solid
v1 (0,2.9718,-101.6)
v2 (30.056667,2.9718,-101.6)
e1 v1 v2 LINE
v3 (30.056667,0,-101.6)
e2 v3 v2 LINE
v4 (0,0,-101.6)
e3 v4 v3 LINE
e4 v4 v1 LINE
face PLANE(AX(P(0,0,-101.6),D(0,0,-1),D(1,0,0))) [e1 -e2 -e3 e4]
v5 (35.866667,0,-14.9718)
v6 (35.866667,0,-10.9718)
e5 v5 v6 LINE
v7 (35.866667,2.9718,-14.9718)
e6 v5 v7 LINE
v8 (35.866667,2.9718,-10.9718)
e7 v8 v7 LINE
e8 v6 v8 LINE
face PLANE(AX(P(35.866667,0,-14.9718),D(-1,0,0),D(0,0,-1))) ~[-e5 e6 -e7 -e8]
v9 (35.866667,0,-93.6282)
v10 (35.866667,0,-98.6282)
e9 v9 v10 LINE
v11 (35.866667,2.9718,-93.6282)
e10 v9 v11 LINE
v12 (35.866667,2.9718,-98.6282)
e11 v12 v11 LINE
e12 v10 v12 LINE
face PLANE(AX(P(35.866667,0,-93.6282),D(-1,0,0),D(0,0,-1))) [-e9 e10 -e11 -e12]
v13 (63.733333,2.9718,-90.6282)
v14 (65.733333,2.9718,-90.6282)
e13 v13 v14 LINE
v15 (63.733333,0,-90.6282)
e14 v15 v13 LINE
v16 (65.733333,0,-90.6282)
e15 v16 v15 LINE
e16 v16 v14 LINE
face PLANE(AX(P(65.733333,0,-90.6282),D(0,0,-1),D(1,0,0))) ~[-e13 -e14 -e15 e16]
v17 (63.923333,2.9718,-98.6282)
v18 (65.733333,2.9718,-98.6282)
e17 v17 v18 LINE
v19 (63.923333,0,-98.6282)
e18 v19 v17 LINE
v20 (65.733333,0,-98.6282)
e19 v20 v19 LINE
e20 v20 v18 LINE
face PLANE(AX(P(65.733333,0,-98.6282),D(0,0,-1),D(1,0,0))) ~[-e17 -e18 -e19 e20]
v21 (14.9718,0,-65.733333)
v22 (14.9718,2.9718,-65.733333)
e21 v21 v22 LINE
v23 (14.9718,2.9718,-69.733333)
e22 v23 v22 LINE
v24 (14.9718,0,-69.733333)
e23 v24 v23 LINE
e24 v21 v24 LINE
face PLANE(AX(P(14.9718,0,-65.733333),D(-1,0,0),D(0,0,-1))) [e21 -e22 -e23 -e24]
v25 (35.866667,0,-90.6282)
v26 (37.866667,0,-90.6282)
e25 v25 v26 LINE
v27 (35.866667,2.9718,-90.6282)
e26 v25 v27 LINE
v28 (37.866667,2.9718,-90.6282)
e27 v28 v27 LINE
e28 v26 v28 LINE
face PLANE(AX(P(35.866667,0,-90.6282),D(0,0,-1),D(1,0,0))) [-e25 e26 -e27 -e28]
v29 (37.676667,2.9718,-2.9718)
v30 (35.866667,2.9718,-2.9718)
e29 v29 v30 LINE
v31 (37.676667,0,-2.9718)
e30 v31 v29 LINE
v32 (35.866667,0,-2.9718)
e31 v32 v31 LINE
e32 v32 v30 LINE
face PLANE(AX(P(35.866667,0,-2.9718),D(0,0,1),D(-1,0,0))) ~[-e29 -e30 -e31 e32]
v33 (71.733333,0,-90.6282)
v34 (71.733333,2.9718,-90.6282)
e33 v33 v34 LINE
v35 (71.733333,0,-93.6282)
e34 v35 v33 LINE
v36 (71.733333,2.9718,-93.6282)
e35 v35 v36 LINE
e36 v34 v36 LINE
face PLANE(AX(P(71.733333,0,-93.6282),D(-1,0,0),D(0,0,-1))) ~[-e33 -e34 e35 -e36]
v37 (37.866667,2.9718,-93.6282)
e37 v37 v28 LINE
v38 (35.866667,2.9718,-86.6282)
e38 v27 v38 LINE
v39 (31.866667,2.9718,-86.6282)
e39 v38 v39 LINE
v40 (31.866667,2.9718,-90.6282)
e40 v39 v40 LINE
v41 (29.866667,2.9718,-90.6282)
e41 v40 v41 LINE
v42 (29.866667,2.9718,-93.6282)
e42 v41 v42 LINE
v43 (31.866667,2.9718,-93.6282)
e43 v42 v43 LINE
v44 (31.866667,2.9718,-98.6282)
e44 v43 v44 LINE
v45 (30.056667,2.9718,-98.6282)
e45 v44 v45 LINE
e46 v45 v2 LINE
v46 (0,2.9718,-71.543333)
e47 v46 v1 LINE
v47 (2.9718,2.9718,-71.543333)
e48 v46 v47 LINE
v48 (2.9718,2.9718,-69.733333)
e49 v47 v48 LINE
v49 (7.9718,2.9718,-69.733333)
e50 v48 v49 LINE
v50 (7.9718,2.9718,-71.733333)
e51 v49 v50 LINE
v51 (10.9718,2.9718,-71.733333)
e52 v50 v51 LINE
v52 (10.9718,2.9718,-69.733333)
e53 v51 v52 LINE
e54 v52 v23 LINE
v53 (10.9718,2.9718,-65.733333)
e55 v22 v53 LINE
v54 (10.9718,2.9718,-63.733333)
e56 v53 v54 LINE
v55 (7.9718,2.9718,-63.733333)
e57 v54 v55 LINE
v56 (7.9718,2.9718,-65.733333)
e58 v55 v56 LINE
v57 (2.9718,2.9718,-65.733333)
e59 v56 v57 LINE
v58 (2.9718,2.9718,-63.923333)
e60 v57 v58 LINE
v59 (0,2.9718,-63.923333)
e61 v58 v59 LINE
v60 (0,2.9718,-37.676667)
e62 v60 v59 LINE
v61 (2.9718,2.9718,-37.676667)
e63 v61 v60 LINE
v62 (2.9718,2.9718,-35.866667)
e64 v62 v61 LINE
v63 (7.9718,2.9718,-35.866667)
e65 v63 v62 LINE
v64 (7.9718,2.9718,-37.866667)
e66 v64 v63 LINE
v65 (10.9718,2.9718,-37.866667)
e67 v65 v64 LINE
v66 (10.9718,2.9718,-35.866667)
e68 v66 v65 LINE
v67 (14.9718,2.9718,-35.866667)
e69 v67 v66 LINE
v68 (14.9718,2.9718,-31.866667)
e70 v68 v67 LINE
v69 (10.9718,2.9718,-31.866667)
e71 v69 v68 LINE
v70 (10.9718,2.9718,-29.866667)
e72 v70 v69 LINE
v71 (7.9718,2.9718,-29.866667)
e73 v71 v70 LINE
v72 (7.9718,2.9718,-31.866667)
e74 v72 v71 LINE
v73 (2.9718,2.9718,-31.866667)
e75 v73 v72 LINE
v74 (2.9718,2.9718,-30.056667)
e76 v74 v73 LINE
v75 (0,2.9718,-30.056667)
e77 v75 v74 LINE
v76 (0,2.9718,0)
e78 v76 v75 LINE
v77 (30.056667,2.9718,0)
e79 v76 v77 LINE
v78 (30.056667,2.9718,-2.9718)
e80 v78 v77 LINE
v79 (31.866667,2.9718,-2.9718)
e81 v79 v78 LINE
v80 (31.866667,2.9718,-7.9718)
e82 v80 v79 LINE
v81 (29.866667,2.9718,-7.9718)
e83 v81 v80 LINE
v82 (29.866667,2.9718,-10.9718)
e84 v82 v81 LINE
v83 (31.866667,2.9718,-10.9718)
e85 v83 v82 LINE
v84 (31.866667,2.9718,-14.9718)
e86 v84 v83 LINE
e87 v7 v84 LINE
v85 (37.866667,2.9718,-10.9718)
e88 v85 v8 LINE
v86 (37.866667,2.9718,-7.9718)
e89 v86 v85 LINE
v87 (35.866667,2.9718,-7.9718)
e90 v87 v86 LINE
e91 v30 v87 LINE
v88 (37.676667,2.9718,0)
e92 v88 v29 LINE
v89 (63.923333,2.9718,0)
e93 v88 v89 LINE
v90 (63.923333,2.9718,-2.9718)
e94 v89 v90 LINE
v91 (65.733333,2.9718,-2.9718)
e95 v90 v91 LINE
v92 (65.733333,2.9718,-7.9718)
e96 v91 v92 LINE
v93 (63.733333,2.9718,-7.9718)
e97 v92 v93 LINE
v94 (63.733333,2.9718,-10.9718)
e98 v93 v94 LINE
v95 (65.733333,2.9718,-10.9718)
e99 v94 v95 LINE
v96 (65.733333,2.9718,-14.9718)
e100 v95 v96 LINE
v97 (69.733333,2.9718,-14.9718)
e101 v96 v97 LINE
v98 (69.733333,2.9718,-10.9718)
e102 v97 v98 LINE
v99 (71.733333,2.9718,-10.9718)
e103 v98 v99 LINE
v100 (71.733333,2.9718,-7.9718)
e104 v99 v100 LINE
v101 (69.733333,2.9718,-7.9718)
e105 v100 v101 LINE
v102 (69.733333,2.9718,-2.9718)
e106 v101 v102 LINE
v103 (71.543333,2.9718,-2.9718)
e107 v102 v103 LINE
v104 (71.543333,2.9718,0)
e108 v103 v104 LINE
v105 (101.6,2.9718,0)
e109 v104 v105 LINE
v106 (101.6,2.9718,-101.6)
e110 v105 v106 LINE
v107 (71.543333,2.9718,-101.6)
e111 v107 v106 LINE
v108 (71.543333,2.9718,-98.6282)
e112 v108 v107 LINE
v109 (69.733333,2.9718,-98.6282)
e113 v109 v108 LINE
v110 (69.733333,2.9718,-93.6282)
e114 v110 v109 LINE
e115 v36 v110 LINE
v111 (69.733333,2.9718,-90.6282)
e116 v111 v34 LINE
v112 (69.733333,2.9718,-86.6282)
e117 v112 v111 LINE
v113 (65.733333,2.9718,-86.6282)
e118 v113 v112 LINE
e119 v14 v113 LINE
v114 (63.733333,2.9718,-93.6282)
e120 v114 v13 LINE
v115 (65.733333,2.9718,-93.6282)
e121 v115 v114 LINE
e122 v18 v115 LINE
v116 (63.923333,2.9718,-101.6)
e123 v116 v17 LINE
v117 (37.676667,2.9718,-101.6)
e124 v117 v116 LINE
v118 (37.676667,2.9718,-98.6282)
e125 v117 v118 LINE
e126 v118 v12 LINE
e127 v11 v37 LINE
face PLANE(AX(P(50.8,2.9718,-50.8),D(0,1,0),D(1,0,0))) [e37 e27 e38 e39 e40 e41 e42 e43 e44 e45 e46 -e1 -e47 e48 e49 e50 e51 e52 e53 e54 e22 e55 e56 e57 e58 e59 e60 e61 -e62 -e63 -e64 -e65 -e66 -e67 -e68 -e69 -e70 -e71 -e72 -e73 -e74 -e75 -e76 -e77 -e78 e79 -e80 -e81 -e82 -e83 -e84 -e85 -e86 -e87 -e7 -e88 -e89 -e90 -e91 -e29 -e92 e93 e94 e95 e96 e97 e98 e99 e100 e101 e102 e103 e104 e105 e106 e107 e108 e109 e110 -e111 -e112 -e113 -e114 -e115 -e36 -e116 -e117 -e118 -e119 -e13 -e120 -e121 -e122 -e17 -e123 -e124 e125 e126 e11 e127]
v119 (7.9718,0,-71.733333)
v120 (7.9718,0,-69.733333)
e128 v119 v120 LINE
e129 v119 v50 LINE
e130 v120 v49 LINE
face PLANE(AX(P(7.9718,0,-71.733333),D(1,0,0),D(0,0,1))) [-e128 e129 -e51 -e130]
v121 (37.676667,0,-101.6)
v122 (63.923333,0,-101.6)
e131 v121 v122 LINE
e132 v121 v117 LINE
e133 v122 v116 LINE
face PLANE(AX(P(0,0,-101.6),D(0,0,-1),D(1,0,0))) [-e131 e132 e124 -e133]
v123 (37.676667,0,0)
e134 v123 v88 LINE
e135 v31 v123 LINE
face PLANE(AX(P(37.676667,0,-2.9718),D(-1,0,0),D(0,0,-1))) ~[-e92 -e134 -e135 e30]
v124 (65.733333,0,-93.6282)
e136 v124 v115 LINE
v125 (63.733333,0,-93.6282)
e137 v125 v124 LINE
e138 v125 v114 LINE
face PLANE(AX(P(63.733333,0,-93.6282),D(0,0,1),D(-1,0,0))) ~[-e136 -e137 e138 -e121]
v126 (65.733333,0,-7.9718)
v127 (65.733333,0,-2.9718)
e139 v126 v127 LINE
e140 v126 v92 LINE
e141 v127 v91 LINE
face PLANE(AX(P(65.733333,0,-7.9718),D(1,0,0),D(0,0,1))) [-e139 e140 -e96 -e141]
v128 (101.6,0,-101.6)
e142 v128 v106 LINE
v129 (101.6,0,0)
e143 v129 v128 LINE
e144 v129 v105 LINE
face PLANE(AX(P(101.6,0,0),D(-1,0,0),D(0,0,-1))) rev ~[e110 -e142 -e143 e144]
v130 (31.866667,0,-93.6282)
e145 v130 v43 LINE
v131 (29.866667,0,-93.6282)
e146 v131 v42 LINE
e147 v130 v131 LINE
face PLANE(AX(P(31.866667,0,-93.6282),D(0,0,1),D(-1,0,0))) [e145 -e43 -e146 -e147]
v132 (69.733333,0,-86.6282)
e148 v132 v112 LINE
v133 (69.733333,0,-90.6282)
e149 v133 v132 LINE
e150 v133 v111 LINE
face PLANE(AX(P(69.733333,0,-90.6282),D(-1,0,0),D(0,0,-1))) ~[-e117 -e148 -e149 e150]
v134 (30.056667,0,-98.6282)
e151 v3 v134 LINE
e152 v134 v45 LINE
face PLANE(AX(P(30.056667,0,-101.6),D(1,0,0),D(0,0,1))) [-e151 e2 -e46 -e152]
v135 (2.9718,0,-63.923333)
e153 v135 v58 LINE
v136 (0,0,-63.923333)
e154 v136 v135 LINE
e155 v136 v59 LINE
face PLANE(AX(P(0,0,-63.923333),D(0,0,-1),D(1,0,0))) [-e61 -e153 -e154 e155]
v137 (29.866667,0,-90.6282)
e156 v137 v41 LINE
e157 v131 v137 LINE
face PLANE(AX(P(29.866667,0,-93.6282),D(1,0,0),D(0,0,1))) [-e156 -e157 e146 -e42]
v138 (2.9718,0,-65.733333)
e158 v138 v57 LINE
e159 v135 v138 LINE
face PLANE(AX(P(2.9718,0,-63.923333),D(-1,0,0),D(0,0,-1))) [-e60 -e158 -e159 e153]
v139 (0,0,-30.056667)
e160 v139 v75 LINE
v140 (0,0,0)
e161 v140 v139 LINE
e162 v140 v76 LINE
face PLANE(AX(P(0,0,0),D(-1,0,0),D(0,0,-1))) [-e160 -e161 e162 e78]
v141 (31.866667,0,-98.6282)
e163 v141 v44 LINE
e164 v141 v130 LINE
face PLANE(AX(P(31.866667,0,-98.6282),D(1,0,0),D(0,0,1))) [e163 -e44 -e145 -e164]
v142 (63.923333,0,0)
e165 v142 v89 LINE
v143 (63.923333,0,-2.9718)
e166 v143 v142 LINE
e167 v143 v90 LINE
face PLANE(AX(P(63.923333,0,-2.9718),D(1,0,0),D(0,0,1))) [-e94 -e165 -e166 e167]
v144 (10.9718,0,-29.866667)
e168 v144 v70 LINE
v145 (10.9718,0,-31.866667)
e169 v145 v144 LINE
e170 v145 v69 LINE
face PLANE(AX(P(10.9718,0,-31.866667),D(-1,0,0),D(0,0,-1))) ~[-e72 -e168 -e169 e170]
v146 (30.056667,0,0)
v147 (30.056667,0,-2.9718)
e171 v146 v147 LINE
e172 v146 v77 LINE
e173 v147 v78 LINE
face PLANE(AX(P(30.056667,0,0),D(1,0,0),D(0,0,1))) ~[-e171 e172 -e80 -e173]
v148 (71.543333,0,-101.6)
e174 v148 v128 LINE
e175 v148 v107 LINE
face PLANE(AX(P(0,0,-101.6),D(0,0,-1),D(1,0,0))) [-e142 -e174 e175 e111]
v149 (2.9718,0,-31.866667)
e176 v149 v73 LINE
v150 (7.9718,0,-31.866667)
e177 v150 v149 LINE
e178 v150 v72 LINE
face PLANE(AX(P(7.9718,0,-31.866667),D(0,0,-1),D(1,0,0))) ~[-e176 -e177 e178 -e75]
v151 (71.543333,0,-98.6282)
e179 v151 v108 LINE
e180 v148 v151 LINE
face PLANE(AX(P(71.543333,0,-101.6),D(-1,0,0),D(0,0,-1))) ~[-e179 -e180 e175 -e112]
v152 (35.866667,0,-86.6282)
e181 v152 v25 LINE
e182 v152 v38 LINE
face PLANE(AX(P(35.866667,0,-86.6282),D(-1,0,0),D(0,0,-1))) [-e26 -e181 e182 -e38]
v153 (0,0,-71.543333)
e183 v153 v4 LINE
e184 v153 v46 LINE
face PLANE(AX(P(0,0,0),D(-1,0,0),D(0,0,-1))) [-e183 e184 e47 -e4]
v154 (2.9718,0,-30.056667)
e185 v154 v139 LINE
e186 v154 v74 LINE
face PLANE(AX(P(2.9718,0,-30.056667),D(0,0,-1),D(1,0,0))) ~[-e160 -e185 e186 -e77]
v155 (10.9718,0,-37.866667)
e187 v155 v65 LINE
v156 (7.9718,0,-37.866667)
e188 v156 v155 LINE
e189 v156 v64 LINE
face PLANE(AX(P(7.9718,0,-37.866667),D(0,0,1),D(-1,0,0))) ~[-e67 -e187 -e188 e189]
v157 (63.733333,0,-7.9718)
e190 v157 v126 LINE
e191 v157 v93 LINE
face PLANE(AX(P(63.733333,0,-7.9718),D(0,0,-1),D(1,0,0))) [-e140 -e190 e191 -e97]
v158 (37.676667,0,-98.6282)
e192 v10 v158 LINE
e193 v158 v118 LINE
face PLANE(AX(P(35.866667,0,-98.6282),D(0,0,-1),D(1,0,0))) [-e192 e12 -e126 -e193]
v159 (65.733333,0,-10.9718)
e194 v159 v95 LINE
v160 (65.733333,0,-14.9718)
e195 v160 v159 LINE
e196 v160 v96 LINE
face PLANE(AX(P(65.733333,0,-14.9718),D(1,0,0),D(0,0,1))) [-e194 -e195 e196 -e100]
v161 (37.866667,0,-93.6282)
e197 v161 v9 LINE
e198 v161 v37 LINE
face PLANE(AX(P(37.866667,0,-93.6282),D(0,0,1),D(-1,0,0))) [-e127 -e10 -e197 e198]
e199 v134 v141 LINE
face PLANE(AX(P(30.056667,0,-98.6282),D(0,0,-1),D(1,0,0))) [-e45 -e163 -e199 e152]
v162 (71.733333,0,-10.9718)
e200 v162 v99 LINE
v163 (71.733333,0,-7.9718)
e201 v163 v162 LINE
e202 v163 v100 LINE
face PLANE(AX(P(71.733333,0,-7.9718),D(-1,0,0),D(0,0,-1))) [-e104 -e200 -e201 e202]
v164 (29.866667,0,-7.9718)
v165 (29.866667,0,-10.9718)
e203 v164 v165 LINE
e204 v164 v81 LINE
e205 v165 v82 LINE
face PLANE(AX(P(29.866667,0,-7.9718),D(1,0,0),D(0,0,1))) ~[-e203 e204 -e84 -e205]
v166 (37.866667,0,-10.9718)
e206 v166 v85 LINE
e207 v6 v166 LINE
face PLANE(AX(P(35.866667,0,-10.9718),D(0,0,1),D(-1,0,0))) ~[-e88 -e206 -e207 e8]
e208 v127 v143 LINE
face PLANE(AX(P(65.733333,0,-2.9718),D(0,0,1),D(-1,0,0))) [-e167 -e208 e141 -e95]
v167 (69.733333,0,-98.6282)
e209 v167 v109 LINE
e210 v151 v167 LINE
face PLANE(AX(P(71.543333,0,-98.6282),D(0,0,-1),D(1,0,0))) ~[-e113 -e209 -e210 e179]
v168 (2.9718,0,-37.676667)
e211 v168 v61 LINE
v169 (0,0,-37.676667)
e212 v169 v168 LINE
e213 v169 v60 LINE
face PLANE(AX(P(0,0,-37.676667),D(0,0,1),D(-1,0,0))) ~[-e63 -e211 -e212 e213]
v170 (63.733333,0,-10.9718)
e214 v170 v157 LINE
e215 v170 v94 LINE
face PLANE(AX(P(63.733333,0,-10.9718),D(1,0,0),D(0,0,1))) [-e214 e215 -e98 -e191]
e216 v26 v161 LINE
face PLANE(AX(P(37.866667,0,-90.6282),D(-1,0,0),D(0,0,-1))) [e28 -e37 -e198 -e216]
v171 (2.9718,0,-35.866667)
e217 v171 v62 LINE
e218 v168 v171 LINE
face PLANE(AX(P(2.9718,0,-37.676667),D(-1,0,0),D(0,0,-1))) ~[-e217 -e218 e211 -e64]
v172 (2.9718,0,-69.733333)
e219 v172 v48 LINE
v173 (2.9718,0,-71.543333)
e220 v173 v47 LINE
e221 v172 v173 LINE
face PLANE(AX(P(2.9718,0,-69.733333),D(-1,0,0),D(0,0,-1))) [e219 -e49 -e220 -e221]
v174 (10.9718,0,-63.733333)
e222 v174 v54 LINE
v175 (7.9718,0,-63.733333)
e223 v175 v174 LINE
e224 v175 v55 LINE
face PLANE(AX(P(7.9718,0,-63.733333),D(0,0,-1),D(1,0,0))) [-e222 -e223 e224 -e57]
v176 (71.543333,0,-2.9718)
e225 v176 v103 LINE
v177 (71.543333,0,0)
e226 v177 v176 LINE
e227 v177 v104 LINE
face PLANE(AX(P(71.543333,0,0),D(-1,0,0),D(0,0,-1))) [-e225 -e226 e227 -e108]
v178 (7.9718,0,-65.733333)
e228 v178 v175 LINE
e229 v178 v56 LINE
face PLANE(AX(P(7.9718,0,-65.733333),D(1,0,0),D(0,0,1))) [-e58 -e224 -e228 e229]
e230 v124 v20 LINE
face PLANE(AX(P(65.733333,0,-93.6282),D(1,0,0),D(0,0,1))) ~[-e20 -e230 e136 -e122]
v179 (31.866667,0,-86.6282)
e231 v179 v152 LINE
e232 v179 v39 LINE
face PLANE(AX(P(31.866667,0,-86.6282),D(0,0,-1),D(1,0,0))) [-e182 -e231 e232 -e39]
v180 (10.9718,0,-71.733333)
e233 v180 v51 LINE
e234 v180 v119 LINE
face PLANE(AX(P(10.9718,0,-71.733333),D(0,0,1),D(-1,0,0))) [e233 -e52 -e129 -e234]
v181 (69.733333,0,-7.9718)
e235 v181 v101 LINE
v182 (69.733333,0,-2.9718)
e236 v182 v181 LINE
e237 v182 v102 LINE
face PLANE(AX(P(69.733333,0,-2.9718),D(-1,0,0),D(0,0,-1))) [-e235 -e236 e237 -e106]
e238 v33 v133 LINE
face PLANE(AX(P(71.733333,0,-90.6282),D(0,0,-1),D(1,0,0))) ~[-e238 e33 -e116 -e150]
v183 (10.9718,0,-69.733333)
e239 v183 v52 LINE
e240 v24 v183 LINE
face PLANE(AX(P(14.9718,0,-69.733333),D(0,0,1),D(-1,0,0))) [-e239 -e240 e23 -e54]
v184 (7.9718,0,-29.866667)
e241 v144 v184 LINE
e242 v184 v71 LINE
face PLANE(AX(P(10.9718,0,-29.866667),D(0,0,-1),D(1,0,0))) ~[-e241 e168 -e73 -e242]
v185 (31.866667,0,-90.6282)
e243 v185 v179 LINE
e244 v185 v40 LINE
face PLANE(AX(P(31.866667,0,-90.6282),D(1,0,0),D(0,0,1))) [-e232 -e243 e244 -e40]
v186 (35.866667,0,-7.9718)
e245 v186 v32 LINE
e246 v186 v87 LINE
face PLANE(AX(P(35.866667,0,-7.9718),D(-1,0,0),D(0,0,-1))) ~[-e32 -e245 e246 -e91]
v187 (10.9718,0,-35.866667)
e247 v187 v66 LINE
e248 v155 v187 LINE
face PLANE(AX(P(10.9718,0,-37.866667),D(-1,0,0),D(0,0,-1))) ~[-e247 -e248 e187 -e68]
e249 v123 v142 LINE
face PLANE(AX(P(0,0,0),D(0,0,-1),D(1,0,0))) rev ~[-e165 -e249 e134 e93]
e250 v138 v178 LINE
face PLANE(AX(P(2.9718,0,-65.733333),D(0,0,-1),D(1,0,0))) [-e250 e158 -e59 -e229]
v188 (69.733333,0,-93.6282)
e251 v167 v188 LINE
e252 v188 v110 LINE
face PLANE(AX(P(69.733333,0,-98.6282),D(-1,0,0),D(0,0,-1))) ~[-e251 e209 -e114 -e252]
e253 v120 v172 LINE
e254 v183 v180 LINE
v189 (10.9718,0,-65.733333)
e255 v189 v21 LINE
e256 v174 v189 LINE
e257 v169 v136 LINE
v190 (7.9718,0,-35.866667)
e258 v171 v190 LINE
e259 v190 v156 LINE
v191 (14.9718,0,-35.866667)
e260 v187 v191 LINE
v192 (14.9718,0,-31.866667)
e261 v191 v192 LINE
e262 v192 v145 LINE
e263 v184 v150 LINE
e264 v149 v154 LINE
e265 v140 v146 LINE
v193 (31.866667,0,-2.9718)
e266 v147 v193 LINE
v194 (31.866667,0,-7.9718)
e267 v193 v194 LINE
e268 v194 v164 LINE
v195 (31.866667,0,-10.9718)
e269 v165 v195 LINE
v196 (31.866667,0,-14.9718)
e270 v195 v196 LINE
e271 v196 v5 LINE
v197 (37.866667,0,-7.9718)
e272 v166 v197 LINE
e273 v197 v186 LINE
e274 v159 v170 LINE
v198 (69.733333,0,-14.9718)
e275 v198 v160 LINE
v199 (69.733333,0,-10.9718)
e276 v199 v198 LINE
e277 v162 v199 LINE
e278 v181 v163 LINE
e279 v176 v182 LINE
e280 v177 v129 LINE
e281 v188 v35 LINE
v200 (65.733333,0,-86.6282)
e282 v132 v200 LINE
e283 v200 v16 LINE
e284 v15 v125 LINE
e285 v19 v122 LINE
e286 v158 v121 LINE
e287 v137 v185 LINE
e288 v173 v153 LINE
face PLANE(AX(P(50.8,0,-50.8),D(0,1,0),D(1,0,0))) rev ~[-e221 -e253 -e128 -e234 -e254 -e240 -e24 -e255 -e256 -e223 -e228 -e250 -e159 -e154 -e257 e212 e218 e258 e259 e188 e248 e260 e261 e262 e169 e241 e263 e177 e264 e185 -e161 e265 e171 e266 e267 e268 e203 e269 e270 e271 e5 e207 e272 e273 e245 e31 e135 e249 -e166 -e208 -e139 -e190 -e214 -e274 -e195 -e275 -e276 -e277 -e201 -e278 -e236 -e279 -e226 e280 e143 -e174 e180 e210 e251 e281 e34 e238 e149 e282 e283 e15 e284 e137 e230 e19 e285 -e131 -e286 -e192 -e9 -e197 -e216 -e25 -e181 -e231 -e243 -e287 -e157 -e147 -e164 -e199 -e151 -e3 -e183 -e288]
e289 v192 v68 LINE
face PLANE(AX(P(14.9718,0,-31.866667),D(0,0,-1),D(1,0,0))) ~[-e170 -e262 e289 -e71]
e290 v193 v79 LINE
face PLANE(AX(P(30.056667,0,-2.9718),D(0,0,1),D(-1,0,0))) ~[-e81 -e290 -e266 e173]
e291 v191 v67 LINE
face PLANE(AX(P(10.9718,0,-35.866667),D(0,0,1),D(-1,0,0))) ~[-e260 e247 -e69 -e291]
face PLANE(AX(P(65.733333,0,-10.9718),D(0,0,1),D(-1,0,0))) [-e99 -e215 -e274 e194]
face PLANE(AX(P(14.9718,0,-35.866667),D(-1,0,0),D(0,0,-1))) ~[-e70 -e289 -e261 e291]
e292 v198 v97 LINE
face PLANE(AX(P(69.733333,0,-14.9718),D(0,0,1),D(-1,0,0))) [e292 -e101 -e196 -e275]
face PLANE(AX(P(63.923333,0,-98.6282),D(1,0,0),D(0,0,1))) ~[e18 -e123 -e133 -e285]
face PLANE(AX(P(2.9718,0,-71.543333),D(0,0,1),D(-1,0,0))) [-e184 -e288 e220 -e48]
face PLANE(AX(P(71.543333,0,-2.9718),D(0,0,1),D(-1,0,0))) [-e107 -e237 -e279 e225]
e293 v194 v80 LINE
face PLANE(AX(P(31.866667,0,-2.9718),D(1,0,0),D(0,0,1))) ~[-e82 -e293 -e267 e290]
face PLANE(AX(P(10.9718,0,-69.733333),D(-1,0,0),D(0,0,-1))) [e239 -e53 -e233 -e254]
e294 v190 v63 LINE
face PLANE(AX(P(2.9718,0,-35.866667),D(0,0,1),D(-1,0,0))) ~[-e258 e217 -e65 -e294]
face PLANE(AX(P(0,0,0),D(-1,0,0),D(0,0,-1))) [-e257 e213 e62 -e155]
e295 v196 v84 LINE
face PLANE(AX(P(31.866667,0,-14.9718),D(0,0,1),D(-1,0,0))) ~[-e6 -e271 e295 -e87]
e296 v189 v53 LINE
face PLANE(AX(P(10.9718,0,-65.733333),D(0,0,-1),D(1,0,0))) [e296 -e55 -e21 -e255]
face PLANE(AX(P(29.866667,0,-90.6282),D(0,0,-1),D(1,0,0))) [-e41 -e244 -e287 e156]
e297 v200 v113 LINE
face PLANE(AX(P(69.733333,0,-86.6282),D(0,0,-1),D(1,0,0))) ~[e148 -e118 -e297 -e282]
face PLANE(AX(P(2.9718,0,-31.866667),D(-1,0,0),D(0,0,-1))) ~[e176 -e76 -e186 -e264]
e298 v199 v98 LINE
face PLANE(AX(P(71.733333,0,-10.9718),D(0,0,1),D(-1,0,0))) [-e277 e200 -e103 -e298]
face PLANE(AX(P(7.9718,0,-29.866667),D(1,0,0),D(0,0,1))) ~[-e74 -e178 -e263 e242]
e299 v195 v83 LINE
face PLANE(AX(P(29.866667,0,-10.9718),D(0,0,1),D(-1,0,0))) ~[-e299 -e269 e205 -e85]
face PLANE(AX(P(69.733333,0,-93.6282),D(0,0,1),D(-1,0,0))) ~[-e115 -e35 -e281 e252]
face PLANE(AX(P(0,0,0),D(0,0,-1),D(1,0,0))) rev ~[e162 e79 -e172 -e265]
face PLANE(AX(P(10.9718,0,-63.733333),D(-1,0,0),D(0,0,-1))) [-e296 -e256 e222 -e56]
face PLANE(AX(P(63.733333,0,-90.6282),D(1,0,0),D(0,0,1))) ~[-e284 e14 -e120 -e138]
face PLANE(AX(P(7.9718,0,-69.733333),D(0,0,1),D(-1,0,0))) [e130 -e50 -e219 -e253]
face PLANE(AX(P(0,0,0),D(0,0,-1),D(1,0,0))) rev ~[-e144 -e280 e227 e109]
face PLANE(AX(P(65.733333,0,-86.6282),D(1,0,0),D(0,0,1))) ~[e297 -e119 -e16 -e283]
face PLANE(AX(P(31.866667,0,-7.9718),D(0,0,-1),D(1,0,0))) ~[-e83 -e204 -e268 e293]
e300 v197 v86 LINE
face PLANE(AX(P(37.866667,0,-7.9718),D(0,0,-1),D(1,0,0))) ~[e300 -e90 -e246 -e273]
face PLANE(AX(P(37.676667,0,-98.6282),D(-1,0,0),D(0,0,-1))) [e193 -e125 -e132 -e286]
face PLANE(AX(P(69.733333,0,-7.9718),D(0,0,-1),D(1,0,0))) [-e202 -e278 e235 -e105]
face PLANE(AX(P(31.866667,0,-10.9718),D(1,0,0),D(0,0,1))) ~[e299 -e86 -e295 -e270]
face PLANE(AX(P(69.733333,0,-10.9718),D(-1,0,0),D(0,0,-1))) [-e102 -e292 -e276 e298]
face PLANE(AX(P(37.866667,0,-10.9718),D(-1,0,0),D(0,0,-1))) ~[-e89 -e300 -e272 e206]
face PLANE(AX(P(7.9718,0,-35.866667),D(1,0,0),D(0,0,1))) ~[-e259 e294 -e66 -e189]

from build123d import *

# Parameters (mm, degrees)
SKETCH_1_W            = 101.6
SKETCH_1_H            = 101.6
EXTRUDE_1_DEPTH       = 2.9718
CUT_EXTRUDE_1_DEPTH   = 144.714827333
MIRROR_2_COPY_1_DEPTH = 144.714827333
CUT_EXTRUDE_3_DEPTH   = 144.714827333


with BuildPart() as part:
    # 草图1 → 凸台-拉伸1 (new body)
    with BuildSketch(Plane(origin=(0, 0, 0), x_dir=(1, 0, 0), z_dir=(0, 1, 0))):
        with Locations((50.8, 50.8)):
            Rectangle(SKETCH_1_W, SKETCH_1_H)
    extrude(amount=EXTRUDE_1_DEPTH)

    # 草图1<3> → 切除-拉伸1 (cut, through all)
    with BuildSketch(Plane(origin=(0, 0, 0), x_dir=(1, 0, 0), z_dir=(0, 1, 0))):
        Polygon((37.676666667, 98.6282), (37.676666667, 101.6), (30.056666667, 101.6), (30.056666667, 98.6282), (31.866666667, 98.6282), (31.866666667, 93.6282), (29.866666667, 93.6282), (29.866666667, 90.6282), (31.866666667, 90.6282), (31.866666667, 86.6282), (35.866666667, 86.6282), (35.866666667, 90.6282), (37.866666667, 90.6282), (37.866666667, 93.6282), (35.866666667, 93.6282), (35.866666667, 98.6282), align=None)
    cut_extrude_1 = extrude(amount=CUT_EXTRUDE_1_DEPTH, mode=Mode.SUBTRACT)

    # 镜向1: 切除-拉伸1 across plane
    add(cut_extrude_1.mirror(Plane(origin=(0, 0, -50.8), x_dir=(1, 0, 0), z_dir=(0, 0, -1))), mode=Mode.SUBTRACT)

    # 镜向2: 切除-拉伸1 across plane
    add(cut_extrude_1.mirror(Plane(origin=(50.8, 0, 0), x_dir=(0, 0, 1), z_dir=(1, 0, 0))), mode=Mode.SUBTRACT)

    # 镜向2 copy 1 sketch → 镜向2 copy 1 (cut, through all)
    with BuildSketch(Plane(origin=(101.6, 0, -101.6), x_dir=(-1, 0, 0), z_dir=(0, 1, 0))):
        Polygon((37.676666667, 98.6282), (37.676666667, 101.6), (30.056666667, 101.6), (30.056666667, 98.6282), (31.866666667, 98.6282), (31.866666667, 93.6282), (29.866666667, 93.6282), (29.866666667, 90.6282), (31.866666667, 90.6282), (31.866666667, 86.6282), (35.866666667, 86.6282), (35.866666667, 90.6282), (37.866666667, 90.6282), (37.866666667, 93.6282), (35.866666667, 93.6282), (35.866666667, 98.6282), align=None)
    extrude(amount=MIRROR_2_COPY_1_DEPTH, mode=Mode.SUBTRACT)

    # 草图1<4> → 切除-拉伸3 (cut, through all)
    with BuildSketch(Plane(origin=(0, 0, 0), x_dir=(1, 0, 0), z_dir=(0, 1, 0))):
        Polygon((0, 71.543333333), (0, 63.923333333), (2.9718, 63.923333333), (2.9718, 65.733333333), (7.9718, 65.733333333), (7.9718, 63.733333333), (10.9718, 63.733333333), (10.9718, 65.733333333), (14.9718, 65.733333333), (14.9718, 69.733333333), (10.9718, 69.733333333), (10.9718, 71.733333333), (7.9718, 71.733333333), (7.9718, 69.733333333), (2.9718, 69.733333333), (2.9718, 71.543333333), align=None)
    cut_extrude_3 = extrude(amount=CUT_EXTRUDE_3_DEPTH, mode=Mode.SUBTRACT)

    # 镜向3: 切除-拉伸3 across plane
    add(cut_extrude_3.mirror(Plane(origin=(0, 0, -50.8), x_dir=(1, 0, 0), z_dir=(0, 0, -1))), mode=Mode.SUBTRACT)


solid = part.part
